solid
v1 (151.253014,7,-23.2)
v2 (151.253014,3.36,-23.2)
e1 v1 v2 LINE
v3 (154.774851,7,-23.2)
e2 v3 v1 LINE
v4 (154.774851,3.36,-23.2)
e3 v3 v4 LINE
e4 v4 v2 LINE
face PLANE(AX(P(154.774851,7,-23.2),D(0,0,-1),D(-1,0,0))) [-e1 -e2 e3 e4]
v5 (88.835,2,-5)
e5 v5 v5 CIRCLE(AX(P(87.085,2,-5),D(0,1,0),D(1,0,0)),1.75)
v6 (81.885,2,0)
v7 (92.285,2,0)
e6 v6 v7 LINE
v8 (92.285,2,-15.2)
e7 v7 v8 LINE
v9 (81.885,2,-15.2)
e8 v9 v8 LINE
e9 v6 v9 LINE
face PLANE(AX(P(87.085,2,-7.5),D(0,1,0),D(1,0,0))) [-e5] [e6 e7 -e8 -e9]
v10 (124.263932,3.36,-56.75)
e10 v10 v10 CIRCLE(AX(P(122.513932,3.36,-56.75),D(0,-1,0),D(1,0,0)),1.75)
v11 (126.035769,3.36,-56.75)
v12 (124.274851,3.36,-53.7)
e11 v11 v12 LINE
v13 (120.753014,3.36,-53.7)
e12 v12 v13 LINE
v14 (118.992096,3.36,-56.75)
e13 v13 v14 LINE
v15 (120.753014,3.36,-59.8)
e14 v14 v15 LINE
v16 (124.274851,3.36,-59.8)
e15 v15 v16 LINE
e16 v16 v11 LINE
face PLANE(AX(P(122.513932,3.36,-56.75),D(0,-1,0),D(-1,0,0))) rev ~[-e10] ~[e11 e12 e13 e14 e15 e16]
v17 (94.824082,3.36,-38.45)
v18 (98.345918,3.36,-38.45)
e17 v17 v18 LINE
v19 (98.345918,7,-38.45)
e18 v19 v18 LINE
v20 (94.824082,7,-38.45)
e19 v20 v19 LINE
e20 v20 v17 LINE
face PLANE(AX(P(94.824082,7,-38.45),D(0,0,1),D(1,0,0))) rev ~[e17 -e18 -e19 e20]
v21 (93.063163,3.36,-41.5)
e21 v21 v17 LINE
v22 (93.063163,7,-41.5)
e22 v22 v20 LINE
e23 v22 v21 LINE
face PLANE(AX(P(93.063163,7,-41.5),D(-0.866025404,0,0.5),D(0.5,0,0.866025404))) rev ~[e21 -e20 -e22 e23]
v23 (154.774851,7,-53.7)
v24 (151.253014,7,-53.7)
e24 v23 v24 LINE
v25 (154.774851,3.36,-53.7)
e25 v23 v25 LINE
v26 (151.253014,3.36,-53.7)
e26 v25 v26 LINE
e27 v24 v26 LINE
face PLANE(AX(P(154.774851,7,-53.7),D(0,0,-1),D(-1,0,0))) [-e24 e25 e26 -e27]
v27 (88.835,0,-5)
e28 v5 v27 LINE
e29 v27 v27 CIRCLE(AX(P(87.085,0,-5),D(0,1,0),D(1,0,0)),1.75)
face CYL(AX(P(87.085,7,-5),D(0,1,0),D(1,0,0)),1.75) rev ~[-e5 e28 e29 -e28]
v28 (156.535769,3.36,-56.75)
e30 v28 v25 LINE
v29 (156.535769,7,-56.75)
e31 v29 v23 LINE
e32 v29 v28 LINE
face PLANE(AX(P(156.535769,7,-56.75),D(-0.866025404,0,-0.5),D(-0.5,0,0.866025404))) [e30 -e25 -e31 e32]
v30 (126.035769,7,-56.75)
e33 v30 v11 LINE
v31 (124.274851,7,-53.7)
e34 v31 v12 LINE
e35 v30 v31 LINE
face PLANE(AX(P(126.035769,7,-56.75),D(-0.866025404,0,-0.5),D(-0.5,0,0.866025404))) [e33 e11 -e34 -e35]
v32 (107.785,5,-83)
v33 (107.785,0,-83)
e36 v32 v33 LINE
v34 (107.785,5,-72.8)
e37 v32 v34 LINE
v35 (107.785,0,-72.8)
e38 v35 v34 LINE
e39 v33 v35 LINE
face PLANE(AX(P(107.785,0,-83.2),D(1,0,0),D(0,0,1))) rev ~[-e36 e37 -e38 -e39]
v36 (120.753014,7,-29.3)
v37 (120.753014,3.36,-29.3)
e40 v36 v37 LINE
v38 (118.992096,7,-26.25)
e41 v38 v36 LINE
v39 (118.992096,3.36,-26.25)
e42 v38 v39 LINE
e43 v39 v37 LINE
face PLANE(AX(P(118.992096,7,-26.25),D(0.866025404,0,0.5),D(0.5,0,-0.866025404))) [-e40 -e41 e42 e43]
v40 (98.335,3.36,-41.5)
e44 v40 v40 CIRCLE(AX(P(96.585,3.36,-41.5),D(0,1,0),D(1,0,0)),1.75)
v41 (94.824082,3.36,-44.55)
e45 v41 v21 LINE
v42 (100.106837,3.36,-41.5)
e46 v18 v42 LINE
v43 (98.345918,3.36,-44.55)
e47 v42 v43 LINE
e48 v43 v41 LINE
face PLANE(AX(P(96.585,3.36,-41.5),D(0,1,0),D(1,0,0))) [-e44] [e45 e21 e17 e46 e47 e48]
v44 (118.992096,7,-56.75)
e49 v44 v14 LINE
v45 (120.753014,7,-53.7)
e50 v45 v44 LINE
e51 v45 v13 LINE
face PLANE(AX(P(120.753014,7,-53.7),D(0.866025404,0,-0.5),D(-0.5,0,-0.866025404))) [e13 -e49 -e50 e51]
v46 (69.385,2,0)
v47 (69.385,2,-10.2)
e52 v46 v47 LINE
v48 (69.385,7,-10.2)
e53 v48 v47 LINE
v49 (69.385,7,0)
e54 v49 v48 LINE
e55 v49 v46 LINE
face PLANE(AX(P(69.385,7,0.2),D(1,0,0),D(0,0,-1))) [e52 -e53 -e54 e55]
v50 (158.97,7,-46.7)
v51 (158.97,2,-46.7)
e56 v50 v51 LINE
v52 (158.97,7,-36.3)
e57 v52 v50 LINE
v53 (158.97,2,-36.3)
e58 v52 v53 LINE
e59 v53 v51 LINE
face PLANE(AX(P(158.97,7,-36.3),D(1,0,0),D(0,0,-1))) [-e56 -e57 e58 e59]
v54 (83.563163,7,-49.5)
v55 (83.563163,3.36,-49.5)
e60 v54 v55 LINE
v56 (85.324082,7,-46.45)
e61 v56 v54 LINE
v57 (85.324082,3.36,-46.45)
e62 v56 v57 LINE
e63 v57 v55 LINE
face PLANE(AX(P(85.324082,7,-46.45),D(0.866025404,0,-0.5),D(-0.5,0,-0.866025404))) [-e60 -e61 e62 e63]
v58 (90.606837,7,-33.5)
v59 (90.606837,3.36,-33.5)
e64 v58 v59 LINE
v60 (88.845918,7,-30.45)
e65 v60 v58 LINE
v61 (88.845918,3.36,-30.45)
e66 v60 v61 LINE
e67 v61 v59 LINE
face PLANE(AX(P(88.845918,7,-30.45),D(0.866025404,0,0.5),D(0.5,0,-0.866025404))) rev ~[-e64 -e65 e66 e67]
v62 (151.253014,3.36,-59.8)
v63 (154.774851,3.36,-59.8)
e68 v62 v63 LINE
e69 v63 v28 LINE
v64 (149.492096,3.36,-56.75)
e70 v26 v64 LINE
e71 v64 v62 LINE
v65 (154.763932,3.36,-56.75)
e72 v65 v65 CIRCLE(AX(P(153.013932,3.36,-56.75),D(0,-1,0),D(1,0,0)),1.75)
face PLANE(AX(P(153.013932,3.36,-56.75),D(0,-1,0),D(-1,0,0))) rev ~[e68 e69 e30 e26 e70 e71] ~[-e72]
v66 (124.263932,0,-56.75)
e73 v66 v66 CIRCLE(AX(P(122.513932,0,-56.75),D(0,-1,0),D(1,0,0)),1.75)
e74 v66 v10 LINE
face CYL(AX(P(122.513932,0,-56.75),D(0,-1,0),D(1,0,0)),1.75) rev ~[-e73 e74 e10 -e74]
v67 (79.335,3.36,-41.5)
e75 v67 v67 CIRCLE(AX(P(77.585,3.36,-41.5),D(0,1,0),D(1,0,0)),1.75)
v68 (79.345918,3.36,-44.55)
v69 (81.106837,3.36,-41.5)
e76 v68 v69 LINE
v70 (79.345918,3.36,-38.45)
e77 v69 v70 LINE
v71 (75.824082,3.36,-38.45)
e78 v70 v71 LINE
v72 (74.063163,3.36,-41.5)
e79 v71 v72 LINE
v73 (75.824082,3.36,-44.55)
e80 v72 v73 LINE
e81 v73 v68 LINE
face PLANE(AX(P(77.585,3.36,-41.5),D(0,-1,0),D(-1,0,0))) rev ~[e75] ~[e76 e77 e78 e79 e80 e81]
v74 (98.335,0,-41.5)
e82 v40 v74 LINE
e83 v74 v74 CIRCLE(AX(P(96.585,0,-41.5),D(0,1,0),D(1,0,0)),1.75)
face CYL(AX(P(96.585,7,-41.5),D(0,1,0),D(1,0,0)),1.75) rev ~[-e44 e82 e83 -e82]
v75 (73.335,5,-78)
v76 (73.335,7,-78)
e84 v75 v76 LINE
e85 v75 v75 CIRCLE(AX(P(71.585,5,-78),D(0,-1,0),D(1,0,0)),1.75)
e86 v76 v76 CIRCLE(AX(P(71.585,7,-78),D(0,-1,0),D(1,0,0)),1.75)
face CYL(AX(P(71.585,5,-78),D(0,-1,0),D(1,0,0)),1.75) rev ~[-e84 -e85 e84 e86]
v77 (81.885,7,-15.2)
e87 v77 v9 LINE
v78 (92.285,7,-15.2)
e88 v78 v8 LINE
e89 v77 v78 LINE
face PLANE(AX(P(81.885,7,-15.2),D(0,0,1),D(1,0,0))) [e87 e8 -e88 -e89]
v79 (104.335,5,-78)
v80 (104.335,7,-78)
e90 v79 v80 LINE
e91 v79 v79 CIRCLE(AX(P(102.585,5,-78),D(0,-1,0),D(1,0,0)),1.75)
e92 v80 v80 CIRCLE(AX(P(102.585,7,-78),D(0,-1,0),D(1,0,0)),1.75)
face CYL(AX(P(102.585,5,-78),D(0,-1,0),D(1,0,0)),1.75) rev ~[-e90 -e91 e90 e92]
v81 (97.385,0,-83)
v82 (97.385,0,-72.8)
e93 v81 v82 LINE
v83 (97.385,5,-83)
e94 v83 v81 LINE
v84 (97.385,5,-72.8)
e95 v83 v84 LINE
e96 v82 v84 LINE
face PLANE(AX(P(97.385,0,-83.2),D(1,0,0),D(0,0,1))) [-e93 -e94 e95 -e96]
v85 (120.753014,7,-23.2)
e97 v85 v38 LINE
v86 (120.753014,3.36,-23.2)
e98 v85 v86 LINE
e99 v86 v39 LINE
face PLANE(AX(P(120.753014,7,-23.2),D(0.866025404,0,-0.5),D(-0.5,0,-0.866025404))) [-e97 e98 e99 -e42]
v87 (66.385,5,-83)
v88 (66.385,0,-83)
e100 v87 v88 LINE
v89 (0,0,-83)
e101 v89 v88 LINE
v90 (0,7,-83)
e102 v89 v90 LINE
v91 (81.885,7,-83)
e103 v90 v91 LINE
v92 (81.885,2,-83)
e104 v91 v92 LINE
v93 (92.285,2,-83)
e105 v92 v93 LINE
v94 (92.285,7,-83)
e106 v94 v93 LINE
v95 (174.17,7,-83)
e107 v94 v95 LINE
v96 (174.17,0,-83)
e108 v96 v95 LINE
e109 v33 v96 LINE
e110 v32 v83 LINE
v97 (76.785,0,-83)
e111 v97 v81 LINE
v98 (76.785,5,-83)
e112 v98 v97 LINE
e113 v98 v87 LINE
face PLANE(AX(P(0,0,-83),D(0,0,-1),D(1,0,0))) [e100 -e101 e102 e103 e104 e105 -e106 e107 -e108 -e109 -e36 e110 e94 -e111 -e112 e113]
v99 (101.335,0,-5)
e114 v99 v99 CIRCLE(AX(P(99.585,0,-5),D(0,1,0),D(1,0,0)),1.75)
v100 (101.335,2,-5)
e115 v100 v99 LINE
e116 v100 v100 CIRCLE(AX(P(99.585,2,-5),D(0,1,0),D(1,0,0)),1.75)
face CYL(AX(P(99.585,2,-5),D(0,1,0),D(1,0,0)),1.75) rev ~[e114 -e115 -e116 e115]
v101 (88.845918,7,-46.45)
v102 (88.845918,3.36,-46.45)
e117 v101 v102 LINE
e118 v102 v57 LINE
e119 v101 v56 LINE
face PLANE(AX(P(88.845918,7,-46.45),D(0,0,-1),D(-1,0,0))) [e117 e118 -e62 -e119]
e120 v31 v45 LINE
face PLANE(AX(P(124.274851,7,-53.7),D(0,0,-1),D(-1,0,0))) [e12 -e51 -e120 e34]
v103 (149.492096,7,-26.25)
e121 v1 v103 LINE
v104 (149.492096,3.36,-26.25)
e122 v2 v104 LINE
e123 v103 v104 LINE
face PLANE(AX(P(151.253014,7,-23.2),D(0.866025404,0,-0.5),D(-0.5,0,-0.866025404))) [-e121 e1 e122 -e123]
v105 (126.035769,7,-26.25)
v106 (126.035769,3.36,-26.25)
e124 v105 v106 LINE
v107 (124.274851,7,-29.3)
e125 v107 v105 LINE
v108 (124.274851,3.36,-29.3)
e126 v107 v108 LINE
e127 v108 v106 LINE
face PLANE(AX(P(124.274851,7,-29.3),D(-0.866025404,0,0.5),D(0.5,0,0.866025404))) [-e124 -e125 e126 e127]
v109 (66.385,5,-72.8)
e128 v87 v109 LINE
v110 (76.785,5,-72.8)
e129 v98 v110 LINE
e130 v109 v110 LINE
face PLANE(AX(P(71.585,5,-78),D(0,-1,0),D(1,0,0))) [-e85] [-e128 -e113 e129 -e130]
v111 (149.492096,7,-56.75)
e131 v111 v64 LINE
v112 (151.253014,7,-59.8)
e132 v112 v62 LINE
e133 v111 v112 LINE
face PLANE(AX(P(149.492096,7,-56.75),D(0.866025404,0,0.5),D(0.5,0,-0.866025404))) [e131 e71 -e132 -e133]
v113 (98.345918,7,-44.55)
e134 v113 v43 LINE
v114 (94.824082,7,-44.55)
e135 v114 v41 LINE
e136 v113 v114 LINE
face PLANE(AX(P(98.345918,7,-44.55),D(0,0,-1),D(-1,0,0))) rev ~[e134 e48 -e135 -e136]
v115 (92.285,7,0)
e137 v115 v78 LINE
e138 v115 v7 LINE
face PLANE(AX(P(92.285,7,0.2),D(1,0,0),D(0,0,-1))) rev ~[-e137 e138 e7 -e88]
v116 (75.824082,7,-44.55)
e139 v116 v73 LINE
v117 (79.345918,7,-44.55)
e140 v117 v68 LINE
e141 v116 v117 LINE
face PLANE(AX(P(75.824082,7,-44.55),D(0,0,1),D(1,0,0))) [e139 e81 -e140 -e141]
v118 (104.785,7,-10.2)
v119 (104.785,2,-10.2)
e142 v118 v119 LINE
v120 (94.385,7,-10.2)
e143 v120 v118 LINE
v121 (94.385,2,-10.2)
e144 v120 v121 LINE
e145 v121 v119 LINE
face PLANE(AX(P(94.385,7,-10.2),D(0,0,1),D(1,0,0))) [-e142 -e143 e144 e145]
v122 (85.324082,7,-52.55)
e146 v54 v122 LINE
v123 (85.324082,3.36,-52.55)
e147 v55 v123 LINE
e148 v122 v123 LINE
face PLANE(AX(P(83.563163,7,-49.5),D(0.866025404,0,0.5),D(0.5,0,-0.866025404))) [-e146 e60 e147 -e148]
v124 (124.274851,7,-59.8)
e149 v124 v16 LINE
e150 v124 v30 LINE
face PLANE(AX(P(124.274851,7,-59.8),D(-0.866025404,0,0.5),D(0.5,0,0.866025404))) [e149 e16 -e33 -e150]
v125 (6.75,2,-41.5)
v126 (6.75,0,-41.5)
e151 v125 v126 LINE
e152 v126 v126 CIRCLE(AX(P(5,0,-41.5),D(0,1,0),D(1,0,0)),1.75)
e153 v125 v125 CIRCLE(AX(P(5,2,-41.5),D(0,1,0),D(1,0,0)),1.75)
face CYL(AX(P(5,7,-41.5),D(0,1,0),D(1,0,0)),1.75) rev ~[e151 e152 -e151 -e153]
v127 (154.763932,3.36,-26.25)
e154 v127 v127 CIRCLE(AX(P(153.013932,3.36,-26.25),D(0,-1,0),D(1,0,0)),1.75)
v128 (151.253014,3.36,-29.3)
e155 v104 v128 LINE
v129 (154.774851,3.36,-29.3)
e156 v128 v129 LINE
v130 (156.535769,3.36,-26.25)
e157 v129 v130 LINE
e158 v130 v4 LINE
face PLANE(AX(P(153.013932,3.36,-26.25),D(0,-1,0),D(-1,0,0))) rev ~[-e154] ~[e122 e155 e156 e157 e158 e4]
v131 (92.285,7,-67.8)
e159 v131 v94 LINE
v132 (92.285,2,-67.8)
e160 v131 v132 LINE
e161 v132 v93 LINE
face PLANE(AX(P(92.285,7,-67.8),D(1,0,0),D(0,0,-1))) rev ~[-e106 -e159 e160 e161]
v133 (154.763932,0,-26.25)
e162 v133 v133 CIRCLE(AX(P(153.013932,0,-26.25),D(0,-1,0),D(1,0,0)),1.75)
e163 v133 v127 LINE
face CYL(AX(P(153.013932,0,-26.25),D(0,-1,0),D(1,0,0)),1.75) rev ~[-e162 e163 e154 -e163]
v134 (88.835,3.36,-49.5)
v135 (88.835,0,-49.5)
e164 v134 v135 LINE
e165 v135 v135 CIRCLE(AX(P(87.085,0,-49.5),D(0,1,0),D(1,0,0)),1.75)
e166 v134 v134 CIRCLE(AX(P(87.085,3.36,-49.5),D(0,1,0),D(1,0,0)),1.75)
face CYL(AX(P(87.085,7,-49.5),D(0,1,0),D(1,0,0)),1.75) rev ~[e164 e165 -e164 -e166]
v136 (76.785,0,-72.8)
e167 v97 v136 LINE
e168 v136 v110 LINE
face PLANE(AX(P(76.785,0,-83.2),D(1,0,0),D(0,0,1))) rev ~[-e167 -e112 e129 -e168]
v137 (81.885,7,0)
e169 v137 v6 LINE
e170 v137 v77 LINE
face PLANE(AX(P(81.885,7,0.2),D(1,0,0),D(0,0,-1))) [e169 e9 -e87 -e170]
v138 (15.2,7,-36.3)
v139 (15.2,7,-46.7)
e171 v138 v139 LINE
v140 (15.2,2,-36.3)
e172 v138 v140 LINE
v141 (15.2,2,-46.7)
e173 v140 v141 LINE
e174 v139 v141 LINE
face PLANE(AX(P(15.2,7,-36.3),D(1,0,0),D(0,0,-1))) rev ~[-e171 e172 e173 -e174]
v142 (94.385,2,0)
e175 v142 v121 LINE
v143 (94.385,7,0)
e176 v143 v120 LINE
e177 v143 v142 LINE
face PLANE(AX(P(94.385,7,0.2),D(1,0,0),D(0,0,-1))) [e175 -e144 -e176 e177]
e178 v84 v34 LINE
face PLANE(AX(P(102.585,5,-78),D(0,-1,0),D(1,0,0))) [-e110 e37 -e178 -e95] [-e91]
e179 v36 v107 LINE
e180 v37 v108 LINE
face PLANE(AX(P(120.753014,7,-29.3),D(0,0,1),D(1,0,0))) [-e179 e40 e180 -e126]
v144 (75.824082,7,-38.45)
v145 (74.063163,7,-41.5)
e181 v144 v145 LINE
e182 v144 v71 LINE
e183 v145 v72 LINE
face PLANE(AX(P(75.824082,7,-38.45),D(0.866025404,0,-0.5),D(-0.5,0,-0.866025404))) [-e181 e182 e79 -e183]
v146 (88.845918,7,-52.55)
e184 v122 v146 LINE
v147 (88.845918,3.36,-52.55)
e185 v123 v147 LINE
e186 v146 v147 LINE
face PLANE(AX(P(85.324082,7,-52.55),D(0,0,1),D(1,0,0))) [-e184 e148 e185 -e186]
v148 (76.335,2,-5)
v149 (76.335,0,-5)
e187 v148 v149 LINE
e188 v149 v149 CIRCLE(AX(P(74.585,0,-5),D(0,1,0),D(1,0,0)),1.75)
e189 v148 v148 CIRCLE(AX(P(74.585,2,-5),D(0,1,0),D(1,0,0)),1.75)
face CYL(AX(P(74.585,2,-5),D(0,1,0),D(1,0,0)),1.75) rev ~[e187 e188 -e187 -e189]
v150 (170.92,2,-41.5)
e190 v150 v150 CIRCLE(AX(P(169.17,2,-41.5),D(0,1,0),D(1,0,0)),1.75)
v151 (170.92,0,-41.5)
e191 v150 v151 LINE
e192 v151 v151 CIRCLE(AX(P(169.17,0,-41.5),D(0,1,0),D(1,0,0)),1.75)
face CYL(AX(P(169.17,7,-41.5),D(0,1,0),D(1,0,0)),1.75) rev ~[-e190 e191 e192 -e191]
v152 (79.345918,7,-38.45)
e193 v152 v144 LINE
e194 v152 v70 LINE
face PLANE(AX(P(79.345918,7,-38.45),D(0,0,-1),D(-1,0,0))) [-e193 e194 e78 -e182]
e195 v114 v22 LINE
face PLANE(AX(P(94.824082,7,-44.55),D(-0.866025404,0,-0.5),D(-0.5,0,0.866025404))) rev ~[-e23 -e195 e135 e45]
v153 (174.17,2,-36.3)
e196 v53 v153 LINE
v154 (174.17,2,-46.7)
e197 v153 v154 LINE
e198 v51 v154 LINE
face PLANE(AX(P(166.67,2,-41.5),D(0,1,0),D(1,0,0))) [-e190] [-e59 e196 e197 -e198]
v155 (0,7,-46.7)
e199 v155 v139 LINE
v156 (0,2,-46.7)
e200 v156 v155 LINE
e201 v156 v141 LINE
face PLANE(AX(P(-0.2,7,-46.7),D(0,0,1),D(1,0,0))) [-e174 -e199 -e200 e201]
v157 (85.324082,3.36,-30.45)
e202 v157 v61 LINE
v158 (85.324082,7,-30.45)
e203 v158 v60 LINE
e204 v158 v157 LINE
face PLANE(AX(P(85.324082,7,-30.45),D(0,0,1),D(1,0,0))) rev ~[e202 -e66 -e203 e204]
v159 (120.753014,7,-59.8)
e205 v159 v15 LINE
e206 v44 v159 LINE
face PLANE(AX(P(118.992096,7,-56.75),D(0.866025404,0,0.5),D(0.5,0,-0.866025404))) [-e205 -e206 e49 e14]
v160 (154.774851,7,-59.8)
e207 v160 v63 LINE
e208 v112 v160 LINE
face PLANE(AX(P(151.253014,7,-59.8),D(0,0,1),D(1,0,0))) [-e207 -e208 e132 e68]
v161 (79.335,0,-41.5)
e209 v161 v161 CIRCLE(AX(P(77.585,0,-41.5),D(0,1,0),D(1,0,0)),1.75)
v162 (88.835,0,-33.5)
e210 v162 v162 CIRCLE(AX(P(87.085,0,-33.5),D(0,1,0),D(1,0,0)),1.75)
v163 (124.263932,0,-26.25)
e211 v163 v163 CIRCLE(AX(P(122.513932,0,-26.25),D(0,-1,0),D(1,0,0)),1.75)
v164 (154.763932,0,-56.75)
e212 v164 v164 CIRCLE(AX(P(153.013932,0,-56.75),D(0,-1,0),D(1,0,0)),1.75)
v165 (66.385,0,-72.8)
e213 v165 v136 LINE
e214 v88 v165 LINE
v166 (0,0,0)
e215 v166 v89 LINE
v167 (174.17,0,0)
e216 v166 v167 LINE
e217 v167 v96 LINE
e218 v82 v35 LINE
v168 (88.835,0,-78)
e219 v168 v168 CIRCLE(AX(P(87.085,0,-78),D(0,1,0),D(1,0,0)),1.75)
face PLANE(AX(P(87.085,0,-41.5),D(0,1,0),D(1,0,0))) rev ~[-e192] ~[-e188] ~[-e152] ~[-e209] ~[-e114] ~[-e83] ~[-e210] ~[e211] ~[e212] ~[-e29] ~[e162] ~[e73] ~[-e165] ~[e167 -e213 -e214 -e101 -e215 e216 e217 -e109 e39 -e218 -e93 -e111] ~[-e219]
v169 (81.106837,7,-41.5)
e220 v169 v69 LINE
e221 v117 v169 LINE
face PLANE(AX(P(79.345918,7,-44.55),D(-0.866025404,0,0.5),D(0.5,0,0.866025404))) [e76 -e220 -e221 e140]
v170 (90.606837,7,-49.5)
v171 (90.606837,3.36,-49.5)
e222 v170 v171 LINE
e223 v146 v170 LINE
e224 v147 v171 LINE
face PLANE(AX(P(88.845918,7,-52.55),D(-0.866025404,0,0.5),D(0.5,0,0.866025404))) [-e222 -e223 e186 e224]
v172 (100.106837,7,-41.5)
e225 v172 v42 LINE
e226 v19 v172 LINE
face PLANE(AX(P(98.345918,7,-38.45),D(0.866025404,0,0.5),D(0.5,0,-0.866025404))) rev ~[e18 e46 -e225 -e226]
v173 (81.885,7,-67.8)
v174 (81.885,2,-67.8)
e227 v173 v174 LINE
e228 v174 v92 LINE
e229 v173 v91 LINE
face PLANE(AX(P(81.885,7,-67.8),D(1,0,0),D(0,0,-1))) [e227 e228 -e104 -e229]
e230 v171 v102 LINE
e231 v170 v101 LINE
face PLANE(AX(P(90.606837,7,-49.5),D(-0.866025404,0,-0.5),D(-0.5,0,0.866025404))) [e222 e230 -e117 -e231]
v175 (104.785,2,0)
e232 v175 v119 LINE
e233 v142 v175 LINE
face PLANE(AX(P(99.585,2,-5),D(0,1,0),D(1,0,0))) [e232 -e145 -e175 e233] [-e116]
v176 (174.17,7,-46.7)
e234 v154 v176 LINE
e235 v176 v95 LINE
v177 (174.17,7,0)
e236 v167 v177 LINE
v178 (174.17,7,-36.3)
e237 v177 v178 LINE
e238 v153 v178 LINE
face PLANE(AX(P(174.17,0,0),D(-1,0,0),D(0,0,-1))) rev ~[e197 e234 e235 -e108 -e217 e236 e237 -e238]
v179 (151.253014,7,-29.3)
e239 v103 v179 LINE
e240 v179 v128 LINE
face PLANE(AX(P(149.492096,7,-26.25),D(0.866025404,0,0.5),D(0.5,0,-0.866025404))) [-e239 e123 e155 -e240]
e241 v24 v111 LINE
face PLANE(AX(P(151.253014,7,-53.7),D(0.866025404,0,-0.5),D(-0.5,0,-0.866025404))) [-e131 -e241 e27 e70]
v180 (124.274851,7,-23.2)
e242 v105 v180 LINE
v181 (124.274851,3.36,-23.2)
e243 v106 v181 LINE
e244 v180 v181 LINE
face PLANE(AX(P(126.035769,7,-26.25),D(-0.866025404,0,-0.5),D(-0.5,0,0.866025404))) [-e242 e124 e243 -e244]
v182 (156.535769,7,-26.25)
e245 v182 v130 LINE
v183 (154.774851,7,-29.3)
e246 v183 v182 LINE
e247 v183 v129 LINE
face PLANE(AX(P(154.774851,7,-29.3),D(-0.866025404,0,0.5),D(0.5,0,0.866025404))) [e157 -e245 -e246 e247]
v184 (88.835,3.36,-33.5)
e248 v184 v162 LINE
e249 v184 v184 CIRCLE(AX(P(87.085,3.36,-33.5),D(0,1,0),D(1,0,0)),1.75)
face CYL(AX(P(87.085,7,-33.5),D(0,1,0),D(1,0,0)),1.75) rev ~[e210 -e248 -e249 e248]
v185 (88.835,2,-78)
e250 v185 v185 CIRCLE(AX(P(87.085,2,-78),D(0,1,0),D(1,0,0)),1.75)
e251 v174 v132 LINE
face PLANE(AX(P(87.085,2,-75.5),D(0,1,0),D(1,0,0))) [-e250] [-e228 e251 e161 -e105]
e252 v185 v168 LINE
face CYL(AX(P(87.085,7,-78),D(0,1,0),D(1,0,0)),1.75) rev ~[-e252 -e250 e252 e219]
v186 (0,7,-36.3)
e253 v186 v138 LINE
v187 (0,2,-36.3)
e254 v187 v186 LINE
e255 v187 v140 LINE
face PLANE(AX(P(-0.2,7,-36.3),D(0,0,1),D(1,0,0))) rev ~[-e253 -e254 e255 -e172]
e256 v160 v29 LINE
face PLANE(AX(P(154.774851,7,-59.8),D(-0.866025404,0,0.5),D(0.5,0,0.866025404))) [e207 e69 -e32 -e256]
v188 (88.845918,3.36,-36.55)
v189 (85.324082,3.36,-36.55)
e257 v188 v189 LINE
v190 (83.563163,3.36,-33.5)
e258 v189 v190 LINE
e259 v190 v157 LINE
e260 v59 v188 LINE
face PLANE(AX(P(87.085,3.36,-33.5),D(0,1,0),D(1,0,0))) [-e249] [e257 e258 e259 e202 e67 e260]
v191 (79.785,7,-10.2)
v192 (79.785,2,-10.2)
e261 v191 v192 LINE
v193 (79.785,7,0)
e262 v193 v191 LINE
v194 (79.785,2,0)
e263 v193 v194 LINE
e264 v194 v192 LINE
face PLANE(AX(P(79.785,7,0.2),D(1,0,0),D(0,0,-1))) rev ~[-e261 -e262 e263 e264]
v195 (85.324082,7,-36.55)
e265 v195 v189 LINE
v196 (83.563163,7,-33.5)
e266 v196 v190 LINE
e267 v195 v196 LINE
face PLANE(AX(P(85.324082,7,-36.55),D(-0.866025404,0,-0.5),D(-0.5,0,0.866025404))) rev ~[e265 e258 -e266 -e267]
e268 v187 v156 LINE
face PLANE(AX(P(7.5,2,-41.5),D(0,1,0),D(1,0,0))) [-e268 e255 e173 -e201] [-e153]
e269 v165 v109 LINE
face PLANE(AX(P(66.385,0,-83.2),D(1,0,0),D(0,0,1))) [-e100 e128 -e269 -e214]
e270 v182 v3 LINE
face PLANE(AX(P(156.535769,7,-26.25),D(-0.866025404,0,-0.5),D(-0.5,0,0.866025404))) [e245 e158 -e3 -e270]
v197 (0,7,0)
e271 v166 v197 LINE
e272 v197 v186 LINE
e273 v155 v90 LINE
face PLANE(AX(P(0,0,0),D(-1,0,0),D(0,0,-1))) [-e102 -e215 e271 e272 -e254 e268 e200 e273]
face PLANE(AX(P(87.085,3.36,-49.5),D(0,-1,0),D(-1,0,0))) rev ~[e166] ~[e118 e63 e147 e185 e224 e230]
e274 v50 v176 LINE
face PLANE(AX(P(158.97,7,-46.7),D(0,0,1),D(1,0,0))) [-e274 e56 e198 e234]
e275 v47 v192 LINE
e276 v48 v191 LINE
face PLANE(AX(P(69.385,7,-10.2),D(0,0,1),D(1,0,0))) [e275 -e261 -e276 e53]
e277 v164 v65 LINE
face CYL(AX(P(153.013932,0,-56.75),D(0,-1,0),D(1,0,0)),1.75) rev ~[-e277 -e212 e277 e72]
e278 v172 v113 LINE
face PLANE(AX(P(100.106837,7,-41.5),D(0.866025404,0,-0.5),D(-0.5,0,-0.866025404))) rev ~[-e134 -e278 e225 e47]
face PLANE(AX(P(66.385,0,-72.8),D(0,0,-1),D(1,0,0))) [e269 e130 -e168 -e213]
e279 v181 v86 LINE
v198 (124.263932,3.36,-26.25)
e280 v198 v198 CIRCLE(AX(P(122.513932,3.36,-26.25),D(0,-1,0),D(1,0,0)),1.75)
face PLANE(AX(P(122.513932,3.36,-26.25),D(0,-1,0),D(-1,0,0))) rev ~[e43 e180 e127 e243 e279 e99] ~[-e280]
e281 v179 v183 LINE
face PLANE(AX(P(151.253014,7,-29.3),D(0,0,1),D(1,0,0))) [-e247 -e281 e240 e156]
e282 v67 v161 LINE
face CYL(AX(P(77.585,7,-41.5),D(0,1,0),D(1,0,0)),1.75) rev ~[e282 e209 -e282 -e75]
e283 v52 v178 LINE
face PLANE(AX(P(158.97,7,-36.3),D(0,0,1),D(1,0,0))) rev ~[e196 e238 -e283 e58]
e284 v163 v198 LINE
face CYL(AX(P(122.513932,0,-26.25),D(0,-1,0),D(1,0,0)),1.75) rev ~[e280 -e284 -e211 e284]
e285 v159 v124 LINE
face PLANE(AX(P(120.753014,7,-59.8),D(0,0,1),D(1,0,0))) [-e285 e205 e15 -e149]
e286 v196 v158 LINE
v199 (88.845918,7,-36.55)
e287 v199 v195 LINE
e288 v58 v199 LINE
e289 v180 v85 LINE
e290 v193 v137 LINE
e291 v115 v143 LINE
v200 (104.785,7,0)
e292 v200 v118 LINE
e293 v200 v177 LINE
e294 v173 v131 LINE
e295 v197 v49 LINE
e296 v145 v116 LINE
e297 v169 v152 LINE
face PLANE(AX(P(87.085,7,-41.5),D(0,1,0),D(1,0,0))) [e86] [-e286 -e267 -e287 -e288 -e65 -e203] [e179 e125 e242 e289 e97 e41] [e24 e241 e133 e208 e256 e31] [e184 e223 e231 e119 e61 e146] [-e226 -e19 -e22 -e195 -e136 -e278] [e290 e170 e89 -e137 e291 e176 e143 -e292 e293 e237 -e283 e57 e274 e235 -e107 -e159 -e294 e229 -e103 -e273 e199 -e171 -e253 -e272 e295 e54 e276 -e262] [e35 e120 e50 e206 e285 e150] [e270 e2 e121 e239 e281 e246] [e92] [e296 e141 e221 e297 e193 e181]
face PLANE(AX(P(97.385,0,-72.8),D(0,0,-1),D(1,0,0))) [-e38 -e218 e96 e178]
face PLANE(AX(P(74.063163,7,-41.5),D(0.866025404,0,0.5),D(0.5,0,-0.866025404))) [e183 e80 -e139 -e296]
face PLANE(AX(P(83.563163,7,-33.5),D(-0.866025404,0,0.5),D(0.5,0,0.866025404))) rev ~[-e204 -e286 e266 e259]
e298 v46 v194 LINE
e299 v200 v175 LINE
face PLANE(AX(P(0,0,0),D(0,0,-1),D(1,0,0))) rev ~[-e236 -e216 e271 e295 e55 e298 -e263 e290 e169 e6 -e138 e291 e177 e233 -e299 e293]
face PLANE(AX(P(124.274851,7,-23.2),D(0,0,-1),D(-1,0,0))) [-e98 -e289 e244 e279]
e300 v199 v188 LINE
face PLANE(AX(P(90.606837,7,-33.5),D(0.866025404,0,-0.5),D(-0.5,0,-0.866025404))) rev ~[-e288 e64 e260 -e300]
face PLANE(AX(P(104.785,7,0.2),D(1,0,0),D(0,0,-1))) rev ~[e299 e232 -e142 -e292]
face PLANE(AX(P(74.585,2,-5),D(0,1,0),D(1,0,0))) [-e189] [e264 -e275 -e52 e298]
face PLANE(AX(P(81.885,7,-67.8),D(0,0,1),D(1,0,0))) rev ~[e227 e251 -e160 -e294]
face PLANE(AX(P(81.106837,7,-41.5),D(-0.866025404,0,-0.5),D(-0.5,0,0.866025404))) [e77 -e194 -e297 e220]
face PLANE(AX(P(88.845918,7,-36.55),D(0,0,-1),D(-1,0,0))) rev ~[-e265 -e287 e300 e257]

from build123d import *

# Parameters (mm, degrees)
SKETCH1_W           = 174.17
SKETCH1_H           = 83
BOSS_EXTRUDE1_DEPTH = 7
SKETCH2_R           = 1.75
CUT_EXTRUDE1_DEPTH  = 8
SKETCH3_R           = 1.75
CUT_EXTRUDE2_DEPTH  = 8
SKETCH4_W           = 15.4
SKETCH4_H           = 10.4
SKETCH4_W_2         = 10.4
SKETCH4_H_2         = 15.4
CUT_EXTRUDE3_DEPTH  = 5
SKETCH5_W           = 10.4
SKETCH5_H           = 10.4
CUT_EXTRUDE4_DEPTH  = 5
SKETCH6_R           = 1.75
CUT_EXTRUDE5_DEPTH  = 3
SKETCH12_R          = 1.75
CUT_EXTRUDE9_DEPTH  = 8
CUT_EXTRUDE6_DEPTH  = 3.64
SKETCH9_W           = 10.4
SKETCH9_H           = 10.4
CUT_EXTRUDE7_DEPTH  = 5
SKETCH10_R          = 1.75
CUT_EXTRUDE8_DEPTH  = 3


with BuildPart() as part:
    # Sketch1 → Boss-Extrude1 (new body)
    with BuildSketch(Plane(origin=(0, 0, 0), x_dir=(1, 0, 0), z_dir=(0, 1, 0))):
        with Locations((87.085, 41.5)):
            Rectangle(SKETCH1_W, SKETCH1_H)
    extrude(amount=BOSS_EXTRUDE1_DEPTH)

    # Sketch2 → Cut-Extrude1 (cut, through all)
    with BuildSketch(Plane(origin=(0, 7, 0), x_dir=(1, 0, 0), z_dir=(0, 1, 0))):
        with Locations((87.085, 49.5)):
            Circle(SKETCH2_R)
        with Locations((77.585, 41.5)):
            Circle(SKETCH2_R)
        with Locations((96.585, 41.5)):
            Circle(SKETCH2_R)
        with Locations((87.085, 33.5)):
            Circle(SKETCH2_R)
    extrude(amount=-CUT_EXTRUDE1_DEPTH, mode=Mode.SUBTRACT)

    # Sketch3 → Cut-Extrude2 (cut, through all)
    with BuildSketch(Plane(origin=(0, 7, 0), x_dir=(1, 0, 0), z_dir=(0, 1, 0))):
        with Locations((87.085, 78)):
            Circle(SKETCH3_R)
        with Locations((5, 41.5)):
            Circle(SKETCH3_R)
        with Locations((87.085, 5)):
            Circle(SKETCH3_R)
        with Locations((169.17, 41.5)):
            Circle(SKETCH3_R)
    extrude(amount=-CUT_EXTRUDE2_DEPTH, mode=Mode.SUBTRACT)

    # Sketch4 → Cut-Extrude3 (cut)
    with BuildSketch(Plane(origin=(0, 7, 0), x_dir=(1, 0, 0), z_dir=(0, 1, 0))):
        with Locations((7.5, 41.5)):
            Rectangle(SKETCH4_W, SKETCH4_H)
        with Locations((87.085, 7.5)):
            Rectangle(SKETCH4_W_2, SKETCH4_H_2)
        with Locations((87.085, 75.5)):
            Rectangle(SKETCH4_W_2, SKETCH4_H_2)
        with Locations((166.67, 41.5)):
            Rectangle(SKETCH4_W, SKETCH4_H)
    extrude(amount=-CUT_EXTRUDE3_DEPTH, mode=Mode.SUBTRACT)

    # Sketch5 → Cut-Extrude4 (cut)
    with BuildSketch(Plane(origin=(0, 7, 0), x_dir=(1, 0, 0), z_dir=(0, 1, 0))):
        with Locations((74.585, 5)):
            Rectangle(SKETCH5_W, SKETCH5_H)
        with Locations((99.585, 5)):
            Rectangle(SKETCH5_W, SKETCH5_H)
    extrude(amount=-CUT_EXTRUDE4_DEPTH, mode=Mode.SUBTRACT)

    # Sketch6 → Cut-Extrude5 (cut, through all)
    with BuildSketch(Plane(origin=(0, 2, 0), x_dir=(1, 0, 0), z_dir=(0, 1, 0))):
        with Locations((74.585, 5)):
            Circle(SKETCH6_R)
        with Locations((99.585, 5)):
            Circle(SKETCH6_R)
    extrude(amount=-CUT_EXTRUDE5_DEPTH, mode=Mode.SUBTRACT)

    # Sketch12 → Cut-Extrude9 (cut, through all)
    with BuildSketch(Plane.XZ):
        with Locations((122.51393219, -26.25)):
            Circle(SKETCH12_R)
        with Locations((153.01393219, -26.25)):
            Circle(SKETCH12_R)
        with Locations((122.51393219, -56.75)):
            Circle(SKETCH12_R)
        with Locations((153.01393219, -56.75)):
            Circle(SKETCH12_R)
    extrude(amount=-CUT_EXTRUDE9_DEPTH, mode=Mode.SUBTRACT)

    # Sketch7 → Cut-Extrude6 (cut)
    with BuildSketch(Plane(origin=(0, 7, 0), x_dir=(1, 0, 0), z_dir=(0, 1, 0))):
        Polygon((75.824081679, 44.55), (79.345918321, 44.55), (81.106836642, 41.5), (79.345918321, 38.45), (75.824081679, 38.45), (74.063163358, 41.5), align=None)
        Polygon((85.324081679, 52.55), (88.845918321, 52.55), (90.606836642, 49.5), (88.845918321, 46.45), (85.324081679, 46.45), (83.563163358, 49.5), align=None)
        Polygon((100.106836642, 41.5), (98.345918321, 44.55), (94.824081679, 44.55), (93.063163358, 41.5), (94.824081679, 38.45), (98.345918321, 38.45), align=None)
        Polygon((83.563163358, 33.5), (85.324081679, 30.45), (88.845918321, 30.45), (90.606836642, 33.5), (88.845918321, 36.55), (85.324081679, 36.55), align=None)
        Polygon((120.753013869, 29.3), (124.274850511, 29.3), (126.035768832, 26.25), (124.274850511, 23.2), (120.753013869, 23.2), (118.992095548, 26.25), align=None)
        Polygon((151.253013869, 29.3), (154.774850511, 29.3), (156.535768832, 26.25), (154.774850511, 23.2), (151.253013869, 23.2), (149.492095548, 26.25), align=None)
        Polygon((151.253013869, 59.8), (154.774850511, 59.8), (156.535768832, 56.75), (154.774850511, 53.7), (151.253013869, 53.7), (149.492095548, 56.75), align=None)
        Polygon((120.753013869, 59.8), (124.274850511, 59.8), (126.035768832, 56.75), (124.274850511, 53.7), (120.753013869, 53.7), (118.992095548, 56.75), align=None)
    extrude(amount=-CUT_EXTRUDE6_DEPTH, mode=Mode.SUBTRACT)

    # Sketch9 → Cut-Extrude7 (cut)
    with BuildSketch(Plane.XZ):
        with Locations((71.585, -78)):
            Rectangle(SKETCH9_W, SKETCH9_H)
        with Locations((102.585, -78)):
            Rectangle(SKETCH9_W, SKETCH9_H)
    extrude(amount=-CUT_EXTRUDE7_DEPTH, mode=Mode.SUBTRACT)

    # Sketch10 → Cut-Extrude8 (cut, through all)
    with BuildSketch(Plane.XZ.offset(-5)):
        with Locations((71.585, -78)):
            Circle(SKETCH10_R)
        with Locations((102.585, -78)):
            Circle(SKETCH10_R)
    extrude(amount=-CUT_EXTRUDE8_DEPTH, mode=Mode.SUBTRACT)


solid = part.part
